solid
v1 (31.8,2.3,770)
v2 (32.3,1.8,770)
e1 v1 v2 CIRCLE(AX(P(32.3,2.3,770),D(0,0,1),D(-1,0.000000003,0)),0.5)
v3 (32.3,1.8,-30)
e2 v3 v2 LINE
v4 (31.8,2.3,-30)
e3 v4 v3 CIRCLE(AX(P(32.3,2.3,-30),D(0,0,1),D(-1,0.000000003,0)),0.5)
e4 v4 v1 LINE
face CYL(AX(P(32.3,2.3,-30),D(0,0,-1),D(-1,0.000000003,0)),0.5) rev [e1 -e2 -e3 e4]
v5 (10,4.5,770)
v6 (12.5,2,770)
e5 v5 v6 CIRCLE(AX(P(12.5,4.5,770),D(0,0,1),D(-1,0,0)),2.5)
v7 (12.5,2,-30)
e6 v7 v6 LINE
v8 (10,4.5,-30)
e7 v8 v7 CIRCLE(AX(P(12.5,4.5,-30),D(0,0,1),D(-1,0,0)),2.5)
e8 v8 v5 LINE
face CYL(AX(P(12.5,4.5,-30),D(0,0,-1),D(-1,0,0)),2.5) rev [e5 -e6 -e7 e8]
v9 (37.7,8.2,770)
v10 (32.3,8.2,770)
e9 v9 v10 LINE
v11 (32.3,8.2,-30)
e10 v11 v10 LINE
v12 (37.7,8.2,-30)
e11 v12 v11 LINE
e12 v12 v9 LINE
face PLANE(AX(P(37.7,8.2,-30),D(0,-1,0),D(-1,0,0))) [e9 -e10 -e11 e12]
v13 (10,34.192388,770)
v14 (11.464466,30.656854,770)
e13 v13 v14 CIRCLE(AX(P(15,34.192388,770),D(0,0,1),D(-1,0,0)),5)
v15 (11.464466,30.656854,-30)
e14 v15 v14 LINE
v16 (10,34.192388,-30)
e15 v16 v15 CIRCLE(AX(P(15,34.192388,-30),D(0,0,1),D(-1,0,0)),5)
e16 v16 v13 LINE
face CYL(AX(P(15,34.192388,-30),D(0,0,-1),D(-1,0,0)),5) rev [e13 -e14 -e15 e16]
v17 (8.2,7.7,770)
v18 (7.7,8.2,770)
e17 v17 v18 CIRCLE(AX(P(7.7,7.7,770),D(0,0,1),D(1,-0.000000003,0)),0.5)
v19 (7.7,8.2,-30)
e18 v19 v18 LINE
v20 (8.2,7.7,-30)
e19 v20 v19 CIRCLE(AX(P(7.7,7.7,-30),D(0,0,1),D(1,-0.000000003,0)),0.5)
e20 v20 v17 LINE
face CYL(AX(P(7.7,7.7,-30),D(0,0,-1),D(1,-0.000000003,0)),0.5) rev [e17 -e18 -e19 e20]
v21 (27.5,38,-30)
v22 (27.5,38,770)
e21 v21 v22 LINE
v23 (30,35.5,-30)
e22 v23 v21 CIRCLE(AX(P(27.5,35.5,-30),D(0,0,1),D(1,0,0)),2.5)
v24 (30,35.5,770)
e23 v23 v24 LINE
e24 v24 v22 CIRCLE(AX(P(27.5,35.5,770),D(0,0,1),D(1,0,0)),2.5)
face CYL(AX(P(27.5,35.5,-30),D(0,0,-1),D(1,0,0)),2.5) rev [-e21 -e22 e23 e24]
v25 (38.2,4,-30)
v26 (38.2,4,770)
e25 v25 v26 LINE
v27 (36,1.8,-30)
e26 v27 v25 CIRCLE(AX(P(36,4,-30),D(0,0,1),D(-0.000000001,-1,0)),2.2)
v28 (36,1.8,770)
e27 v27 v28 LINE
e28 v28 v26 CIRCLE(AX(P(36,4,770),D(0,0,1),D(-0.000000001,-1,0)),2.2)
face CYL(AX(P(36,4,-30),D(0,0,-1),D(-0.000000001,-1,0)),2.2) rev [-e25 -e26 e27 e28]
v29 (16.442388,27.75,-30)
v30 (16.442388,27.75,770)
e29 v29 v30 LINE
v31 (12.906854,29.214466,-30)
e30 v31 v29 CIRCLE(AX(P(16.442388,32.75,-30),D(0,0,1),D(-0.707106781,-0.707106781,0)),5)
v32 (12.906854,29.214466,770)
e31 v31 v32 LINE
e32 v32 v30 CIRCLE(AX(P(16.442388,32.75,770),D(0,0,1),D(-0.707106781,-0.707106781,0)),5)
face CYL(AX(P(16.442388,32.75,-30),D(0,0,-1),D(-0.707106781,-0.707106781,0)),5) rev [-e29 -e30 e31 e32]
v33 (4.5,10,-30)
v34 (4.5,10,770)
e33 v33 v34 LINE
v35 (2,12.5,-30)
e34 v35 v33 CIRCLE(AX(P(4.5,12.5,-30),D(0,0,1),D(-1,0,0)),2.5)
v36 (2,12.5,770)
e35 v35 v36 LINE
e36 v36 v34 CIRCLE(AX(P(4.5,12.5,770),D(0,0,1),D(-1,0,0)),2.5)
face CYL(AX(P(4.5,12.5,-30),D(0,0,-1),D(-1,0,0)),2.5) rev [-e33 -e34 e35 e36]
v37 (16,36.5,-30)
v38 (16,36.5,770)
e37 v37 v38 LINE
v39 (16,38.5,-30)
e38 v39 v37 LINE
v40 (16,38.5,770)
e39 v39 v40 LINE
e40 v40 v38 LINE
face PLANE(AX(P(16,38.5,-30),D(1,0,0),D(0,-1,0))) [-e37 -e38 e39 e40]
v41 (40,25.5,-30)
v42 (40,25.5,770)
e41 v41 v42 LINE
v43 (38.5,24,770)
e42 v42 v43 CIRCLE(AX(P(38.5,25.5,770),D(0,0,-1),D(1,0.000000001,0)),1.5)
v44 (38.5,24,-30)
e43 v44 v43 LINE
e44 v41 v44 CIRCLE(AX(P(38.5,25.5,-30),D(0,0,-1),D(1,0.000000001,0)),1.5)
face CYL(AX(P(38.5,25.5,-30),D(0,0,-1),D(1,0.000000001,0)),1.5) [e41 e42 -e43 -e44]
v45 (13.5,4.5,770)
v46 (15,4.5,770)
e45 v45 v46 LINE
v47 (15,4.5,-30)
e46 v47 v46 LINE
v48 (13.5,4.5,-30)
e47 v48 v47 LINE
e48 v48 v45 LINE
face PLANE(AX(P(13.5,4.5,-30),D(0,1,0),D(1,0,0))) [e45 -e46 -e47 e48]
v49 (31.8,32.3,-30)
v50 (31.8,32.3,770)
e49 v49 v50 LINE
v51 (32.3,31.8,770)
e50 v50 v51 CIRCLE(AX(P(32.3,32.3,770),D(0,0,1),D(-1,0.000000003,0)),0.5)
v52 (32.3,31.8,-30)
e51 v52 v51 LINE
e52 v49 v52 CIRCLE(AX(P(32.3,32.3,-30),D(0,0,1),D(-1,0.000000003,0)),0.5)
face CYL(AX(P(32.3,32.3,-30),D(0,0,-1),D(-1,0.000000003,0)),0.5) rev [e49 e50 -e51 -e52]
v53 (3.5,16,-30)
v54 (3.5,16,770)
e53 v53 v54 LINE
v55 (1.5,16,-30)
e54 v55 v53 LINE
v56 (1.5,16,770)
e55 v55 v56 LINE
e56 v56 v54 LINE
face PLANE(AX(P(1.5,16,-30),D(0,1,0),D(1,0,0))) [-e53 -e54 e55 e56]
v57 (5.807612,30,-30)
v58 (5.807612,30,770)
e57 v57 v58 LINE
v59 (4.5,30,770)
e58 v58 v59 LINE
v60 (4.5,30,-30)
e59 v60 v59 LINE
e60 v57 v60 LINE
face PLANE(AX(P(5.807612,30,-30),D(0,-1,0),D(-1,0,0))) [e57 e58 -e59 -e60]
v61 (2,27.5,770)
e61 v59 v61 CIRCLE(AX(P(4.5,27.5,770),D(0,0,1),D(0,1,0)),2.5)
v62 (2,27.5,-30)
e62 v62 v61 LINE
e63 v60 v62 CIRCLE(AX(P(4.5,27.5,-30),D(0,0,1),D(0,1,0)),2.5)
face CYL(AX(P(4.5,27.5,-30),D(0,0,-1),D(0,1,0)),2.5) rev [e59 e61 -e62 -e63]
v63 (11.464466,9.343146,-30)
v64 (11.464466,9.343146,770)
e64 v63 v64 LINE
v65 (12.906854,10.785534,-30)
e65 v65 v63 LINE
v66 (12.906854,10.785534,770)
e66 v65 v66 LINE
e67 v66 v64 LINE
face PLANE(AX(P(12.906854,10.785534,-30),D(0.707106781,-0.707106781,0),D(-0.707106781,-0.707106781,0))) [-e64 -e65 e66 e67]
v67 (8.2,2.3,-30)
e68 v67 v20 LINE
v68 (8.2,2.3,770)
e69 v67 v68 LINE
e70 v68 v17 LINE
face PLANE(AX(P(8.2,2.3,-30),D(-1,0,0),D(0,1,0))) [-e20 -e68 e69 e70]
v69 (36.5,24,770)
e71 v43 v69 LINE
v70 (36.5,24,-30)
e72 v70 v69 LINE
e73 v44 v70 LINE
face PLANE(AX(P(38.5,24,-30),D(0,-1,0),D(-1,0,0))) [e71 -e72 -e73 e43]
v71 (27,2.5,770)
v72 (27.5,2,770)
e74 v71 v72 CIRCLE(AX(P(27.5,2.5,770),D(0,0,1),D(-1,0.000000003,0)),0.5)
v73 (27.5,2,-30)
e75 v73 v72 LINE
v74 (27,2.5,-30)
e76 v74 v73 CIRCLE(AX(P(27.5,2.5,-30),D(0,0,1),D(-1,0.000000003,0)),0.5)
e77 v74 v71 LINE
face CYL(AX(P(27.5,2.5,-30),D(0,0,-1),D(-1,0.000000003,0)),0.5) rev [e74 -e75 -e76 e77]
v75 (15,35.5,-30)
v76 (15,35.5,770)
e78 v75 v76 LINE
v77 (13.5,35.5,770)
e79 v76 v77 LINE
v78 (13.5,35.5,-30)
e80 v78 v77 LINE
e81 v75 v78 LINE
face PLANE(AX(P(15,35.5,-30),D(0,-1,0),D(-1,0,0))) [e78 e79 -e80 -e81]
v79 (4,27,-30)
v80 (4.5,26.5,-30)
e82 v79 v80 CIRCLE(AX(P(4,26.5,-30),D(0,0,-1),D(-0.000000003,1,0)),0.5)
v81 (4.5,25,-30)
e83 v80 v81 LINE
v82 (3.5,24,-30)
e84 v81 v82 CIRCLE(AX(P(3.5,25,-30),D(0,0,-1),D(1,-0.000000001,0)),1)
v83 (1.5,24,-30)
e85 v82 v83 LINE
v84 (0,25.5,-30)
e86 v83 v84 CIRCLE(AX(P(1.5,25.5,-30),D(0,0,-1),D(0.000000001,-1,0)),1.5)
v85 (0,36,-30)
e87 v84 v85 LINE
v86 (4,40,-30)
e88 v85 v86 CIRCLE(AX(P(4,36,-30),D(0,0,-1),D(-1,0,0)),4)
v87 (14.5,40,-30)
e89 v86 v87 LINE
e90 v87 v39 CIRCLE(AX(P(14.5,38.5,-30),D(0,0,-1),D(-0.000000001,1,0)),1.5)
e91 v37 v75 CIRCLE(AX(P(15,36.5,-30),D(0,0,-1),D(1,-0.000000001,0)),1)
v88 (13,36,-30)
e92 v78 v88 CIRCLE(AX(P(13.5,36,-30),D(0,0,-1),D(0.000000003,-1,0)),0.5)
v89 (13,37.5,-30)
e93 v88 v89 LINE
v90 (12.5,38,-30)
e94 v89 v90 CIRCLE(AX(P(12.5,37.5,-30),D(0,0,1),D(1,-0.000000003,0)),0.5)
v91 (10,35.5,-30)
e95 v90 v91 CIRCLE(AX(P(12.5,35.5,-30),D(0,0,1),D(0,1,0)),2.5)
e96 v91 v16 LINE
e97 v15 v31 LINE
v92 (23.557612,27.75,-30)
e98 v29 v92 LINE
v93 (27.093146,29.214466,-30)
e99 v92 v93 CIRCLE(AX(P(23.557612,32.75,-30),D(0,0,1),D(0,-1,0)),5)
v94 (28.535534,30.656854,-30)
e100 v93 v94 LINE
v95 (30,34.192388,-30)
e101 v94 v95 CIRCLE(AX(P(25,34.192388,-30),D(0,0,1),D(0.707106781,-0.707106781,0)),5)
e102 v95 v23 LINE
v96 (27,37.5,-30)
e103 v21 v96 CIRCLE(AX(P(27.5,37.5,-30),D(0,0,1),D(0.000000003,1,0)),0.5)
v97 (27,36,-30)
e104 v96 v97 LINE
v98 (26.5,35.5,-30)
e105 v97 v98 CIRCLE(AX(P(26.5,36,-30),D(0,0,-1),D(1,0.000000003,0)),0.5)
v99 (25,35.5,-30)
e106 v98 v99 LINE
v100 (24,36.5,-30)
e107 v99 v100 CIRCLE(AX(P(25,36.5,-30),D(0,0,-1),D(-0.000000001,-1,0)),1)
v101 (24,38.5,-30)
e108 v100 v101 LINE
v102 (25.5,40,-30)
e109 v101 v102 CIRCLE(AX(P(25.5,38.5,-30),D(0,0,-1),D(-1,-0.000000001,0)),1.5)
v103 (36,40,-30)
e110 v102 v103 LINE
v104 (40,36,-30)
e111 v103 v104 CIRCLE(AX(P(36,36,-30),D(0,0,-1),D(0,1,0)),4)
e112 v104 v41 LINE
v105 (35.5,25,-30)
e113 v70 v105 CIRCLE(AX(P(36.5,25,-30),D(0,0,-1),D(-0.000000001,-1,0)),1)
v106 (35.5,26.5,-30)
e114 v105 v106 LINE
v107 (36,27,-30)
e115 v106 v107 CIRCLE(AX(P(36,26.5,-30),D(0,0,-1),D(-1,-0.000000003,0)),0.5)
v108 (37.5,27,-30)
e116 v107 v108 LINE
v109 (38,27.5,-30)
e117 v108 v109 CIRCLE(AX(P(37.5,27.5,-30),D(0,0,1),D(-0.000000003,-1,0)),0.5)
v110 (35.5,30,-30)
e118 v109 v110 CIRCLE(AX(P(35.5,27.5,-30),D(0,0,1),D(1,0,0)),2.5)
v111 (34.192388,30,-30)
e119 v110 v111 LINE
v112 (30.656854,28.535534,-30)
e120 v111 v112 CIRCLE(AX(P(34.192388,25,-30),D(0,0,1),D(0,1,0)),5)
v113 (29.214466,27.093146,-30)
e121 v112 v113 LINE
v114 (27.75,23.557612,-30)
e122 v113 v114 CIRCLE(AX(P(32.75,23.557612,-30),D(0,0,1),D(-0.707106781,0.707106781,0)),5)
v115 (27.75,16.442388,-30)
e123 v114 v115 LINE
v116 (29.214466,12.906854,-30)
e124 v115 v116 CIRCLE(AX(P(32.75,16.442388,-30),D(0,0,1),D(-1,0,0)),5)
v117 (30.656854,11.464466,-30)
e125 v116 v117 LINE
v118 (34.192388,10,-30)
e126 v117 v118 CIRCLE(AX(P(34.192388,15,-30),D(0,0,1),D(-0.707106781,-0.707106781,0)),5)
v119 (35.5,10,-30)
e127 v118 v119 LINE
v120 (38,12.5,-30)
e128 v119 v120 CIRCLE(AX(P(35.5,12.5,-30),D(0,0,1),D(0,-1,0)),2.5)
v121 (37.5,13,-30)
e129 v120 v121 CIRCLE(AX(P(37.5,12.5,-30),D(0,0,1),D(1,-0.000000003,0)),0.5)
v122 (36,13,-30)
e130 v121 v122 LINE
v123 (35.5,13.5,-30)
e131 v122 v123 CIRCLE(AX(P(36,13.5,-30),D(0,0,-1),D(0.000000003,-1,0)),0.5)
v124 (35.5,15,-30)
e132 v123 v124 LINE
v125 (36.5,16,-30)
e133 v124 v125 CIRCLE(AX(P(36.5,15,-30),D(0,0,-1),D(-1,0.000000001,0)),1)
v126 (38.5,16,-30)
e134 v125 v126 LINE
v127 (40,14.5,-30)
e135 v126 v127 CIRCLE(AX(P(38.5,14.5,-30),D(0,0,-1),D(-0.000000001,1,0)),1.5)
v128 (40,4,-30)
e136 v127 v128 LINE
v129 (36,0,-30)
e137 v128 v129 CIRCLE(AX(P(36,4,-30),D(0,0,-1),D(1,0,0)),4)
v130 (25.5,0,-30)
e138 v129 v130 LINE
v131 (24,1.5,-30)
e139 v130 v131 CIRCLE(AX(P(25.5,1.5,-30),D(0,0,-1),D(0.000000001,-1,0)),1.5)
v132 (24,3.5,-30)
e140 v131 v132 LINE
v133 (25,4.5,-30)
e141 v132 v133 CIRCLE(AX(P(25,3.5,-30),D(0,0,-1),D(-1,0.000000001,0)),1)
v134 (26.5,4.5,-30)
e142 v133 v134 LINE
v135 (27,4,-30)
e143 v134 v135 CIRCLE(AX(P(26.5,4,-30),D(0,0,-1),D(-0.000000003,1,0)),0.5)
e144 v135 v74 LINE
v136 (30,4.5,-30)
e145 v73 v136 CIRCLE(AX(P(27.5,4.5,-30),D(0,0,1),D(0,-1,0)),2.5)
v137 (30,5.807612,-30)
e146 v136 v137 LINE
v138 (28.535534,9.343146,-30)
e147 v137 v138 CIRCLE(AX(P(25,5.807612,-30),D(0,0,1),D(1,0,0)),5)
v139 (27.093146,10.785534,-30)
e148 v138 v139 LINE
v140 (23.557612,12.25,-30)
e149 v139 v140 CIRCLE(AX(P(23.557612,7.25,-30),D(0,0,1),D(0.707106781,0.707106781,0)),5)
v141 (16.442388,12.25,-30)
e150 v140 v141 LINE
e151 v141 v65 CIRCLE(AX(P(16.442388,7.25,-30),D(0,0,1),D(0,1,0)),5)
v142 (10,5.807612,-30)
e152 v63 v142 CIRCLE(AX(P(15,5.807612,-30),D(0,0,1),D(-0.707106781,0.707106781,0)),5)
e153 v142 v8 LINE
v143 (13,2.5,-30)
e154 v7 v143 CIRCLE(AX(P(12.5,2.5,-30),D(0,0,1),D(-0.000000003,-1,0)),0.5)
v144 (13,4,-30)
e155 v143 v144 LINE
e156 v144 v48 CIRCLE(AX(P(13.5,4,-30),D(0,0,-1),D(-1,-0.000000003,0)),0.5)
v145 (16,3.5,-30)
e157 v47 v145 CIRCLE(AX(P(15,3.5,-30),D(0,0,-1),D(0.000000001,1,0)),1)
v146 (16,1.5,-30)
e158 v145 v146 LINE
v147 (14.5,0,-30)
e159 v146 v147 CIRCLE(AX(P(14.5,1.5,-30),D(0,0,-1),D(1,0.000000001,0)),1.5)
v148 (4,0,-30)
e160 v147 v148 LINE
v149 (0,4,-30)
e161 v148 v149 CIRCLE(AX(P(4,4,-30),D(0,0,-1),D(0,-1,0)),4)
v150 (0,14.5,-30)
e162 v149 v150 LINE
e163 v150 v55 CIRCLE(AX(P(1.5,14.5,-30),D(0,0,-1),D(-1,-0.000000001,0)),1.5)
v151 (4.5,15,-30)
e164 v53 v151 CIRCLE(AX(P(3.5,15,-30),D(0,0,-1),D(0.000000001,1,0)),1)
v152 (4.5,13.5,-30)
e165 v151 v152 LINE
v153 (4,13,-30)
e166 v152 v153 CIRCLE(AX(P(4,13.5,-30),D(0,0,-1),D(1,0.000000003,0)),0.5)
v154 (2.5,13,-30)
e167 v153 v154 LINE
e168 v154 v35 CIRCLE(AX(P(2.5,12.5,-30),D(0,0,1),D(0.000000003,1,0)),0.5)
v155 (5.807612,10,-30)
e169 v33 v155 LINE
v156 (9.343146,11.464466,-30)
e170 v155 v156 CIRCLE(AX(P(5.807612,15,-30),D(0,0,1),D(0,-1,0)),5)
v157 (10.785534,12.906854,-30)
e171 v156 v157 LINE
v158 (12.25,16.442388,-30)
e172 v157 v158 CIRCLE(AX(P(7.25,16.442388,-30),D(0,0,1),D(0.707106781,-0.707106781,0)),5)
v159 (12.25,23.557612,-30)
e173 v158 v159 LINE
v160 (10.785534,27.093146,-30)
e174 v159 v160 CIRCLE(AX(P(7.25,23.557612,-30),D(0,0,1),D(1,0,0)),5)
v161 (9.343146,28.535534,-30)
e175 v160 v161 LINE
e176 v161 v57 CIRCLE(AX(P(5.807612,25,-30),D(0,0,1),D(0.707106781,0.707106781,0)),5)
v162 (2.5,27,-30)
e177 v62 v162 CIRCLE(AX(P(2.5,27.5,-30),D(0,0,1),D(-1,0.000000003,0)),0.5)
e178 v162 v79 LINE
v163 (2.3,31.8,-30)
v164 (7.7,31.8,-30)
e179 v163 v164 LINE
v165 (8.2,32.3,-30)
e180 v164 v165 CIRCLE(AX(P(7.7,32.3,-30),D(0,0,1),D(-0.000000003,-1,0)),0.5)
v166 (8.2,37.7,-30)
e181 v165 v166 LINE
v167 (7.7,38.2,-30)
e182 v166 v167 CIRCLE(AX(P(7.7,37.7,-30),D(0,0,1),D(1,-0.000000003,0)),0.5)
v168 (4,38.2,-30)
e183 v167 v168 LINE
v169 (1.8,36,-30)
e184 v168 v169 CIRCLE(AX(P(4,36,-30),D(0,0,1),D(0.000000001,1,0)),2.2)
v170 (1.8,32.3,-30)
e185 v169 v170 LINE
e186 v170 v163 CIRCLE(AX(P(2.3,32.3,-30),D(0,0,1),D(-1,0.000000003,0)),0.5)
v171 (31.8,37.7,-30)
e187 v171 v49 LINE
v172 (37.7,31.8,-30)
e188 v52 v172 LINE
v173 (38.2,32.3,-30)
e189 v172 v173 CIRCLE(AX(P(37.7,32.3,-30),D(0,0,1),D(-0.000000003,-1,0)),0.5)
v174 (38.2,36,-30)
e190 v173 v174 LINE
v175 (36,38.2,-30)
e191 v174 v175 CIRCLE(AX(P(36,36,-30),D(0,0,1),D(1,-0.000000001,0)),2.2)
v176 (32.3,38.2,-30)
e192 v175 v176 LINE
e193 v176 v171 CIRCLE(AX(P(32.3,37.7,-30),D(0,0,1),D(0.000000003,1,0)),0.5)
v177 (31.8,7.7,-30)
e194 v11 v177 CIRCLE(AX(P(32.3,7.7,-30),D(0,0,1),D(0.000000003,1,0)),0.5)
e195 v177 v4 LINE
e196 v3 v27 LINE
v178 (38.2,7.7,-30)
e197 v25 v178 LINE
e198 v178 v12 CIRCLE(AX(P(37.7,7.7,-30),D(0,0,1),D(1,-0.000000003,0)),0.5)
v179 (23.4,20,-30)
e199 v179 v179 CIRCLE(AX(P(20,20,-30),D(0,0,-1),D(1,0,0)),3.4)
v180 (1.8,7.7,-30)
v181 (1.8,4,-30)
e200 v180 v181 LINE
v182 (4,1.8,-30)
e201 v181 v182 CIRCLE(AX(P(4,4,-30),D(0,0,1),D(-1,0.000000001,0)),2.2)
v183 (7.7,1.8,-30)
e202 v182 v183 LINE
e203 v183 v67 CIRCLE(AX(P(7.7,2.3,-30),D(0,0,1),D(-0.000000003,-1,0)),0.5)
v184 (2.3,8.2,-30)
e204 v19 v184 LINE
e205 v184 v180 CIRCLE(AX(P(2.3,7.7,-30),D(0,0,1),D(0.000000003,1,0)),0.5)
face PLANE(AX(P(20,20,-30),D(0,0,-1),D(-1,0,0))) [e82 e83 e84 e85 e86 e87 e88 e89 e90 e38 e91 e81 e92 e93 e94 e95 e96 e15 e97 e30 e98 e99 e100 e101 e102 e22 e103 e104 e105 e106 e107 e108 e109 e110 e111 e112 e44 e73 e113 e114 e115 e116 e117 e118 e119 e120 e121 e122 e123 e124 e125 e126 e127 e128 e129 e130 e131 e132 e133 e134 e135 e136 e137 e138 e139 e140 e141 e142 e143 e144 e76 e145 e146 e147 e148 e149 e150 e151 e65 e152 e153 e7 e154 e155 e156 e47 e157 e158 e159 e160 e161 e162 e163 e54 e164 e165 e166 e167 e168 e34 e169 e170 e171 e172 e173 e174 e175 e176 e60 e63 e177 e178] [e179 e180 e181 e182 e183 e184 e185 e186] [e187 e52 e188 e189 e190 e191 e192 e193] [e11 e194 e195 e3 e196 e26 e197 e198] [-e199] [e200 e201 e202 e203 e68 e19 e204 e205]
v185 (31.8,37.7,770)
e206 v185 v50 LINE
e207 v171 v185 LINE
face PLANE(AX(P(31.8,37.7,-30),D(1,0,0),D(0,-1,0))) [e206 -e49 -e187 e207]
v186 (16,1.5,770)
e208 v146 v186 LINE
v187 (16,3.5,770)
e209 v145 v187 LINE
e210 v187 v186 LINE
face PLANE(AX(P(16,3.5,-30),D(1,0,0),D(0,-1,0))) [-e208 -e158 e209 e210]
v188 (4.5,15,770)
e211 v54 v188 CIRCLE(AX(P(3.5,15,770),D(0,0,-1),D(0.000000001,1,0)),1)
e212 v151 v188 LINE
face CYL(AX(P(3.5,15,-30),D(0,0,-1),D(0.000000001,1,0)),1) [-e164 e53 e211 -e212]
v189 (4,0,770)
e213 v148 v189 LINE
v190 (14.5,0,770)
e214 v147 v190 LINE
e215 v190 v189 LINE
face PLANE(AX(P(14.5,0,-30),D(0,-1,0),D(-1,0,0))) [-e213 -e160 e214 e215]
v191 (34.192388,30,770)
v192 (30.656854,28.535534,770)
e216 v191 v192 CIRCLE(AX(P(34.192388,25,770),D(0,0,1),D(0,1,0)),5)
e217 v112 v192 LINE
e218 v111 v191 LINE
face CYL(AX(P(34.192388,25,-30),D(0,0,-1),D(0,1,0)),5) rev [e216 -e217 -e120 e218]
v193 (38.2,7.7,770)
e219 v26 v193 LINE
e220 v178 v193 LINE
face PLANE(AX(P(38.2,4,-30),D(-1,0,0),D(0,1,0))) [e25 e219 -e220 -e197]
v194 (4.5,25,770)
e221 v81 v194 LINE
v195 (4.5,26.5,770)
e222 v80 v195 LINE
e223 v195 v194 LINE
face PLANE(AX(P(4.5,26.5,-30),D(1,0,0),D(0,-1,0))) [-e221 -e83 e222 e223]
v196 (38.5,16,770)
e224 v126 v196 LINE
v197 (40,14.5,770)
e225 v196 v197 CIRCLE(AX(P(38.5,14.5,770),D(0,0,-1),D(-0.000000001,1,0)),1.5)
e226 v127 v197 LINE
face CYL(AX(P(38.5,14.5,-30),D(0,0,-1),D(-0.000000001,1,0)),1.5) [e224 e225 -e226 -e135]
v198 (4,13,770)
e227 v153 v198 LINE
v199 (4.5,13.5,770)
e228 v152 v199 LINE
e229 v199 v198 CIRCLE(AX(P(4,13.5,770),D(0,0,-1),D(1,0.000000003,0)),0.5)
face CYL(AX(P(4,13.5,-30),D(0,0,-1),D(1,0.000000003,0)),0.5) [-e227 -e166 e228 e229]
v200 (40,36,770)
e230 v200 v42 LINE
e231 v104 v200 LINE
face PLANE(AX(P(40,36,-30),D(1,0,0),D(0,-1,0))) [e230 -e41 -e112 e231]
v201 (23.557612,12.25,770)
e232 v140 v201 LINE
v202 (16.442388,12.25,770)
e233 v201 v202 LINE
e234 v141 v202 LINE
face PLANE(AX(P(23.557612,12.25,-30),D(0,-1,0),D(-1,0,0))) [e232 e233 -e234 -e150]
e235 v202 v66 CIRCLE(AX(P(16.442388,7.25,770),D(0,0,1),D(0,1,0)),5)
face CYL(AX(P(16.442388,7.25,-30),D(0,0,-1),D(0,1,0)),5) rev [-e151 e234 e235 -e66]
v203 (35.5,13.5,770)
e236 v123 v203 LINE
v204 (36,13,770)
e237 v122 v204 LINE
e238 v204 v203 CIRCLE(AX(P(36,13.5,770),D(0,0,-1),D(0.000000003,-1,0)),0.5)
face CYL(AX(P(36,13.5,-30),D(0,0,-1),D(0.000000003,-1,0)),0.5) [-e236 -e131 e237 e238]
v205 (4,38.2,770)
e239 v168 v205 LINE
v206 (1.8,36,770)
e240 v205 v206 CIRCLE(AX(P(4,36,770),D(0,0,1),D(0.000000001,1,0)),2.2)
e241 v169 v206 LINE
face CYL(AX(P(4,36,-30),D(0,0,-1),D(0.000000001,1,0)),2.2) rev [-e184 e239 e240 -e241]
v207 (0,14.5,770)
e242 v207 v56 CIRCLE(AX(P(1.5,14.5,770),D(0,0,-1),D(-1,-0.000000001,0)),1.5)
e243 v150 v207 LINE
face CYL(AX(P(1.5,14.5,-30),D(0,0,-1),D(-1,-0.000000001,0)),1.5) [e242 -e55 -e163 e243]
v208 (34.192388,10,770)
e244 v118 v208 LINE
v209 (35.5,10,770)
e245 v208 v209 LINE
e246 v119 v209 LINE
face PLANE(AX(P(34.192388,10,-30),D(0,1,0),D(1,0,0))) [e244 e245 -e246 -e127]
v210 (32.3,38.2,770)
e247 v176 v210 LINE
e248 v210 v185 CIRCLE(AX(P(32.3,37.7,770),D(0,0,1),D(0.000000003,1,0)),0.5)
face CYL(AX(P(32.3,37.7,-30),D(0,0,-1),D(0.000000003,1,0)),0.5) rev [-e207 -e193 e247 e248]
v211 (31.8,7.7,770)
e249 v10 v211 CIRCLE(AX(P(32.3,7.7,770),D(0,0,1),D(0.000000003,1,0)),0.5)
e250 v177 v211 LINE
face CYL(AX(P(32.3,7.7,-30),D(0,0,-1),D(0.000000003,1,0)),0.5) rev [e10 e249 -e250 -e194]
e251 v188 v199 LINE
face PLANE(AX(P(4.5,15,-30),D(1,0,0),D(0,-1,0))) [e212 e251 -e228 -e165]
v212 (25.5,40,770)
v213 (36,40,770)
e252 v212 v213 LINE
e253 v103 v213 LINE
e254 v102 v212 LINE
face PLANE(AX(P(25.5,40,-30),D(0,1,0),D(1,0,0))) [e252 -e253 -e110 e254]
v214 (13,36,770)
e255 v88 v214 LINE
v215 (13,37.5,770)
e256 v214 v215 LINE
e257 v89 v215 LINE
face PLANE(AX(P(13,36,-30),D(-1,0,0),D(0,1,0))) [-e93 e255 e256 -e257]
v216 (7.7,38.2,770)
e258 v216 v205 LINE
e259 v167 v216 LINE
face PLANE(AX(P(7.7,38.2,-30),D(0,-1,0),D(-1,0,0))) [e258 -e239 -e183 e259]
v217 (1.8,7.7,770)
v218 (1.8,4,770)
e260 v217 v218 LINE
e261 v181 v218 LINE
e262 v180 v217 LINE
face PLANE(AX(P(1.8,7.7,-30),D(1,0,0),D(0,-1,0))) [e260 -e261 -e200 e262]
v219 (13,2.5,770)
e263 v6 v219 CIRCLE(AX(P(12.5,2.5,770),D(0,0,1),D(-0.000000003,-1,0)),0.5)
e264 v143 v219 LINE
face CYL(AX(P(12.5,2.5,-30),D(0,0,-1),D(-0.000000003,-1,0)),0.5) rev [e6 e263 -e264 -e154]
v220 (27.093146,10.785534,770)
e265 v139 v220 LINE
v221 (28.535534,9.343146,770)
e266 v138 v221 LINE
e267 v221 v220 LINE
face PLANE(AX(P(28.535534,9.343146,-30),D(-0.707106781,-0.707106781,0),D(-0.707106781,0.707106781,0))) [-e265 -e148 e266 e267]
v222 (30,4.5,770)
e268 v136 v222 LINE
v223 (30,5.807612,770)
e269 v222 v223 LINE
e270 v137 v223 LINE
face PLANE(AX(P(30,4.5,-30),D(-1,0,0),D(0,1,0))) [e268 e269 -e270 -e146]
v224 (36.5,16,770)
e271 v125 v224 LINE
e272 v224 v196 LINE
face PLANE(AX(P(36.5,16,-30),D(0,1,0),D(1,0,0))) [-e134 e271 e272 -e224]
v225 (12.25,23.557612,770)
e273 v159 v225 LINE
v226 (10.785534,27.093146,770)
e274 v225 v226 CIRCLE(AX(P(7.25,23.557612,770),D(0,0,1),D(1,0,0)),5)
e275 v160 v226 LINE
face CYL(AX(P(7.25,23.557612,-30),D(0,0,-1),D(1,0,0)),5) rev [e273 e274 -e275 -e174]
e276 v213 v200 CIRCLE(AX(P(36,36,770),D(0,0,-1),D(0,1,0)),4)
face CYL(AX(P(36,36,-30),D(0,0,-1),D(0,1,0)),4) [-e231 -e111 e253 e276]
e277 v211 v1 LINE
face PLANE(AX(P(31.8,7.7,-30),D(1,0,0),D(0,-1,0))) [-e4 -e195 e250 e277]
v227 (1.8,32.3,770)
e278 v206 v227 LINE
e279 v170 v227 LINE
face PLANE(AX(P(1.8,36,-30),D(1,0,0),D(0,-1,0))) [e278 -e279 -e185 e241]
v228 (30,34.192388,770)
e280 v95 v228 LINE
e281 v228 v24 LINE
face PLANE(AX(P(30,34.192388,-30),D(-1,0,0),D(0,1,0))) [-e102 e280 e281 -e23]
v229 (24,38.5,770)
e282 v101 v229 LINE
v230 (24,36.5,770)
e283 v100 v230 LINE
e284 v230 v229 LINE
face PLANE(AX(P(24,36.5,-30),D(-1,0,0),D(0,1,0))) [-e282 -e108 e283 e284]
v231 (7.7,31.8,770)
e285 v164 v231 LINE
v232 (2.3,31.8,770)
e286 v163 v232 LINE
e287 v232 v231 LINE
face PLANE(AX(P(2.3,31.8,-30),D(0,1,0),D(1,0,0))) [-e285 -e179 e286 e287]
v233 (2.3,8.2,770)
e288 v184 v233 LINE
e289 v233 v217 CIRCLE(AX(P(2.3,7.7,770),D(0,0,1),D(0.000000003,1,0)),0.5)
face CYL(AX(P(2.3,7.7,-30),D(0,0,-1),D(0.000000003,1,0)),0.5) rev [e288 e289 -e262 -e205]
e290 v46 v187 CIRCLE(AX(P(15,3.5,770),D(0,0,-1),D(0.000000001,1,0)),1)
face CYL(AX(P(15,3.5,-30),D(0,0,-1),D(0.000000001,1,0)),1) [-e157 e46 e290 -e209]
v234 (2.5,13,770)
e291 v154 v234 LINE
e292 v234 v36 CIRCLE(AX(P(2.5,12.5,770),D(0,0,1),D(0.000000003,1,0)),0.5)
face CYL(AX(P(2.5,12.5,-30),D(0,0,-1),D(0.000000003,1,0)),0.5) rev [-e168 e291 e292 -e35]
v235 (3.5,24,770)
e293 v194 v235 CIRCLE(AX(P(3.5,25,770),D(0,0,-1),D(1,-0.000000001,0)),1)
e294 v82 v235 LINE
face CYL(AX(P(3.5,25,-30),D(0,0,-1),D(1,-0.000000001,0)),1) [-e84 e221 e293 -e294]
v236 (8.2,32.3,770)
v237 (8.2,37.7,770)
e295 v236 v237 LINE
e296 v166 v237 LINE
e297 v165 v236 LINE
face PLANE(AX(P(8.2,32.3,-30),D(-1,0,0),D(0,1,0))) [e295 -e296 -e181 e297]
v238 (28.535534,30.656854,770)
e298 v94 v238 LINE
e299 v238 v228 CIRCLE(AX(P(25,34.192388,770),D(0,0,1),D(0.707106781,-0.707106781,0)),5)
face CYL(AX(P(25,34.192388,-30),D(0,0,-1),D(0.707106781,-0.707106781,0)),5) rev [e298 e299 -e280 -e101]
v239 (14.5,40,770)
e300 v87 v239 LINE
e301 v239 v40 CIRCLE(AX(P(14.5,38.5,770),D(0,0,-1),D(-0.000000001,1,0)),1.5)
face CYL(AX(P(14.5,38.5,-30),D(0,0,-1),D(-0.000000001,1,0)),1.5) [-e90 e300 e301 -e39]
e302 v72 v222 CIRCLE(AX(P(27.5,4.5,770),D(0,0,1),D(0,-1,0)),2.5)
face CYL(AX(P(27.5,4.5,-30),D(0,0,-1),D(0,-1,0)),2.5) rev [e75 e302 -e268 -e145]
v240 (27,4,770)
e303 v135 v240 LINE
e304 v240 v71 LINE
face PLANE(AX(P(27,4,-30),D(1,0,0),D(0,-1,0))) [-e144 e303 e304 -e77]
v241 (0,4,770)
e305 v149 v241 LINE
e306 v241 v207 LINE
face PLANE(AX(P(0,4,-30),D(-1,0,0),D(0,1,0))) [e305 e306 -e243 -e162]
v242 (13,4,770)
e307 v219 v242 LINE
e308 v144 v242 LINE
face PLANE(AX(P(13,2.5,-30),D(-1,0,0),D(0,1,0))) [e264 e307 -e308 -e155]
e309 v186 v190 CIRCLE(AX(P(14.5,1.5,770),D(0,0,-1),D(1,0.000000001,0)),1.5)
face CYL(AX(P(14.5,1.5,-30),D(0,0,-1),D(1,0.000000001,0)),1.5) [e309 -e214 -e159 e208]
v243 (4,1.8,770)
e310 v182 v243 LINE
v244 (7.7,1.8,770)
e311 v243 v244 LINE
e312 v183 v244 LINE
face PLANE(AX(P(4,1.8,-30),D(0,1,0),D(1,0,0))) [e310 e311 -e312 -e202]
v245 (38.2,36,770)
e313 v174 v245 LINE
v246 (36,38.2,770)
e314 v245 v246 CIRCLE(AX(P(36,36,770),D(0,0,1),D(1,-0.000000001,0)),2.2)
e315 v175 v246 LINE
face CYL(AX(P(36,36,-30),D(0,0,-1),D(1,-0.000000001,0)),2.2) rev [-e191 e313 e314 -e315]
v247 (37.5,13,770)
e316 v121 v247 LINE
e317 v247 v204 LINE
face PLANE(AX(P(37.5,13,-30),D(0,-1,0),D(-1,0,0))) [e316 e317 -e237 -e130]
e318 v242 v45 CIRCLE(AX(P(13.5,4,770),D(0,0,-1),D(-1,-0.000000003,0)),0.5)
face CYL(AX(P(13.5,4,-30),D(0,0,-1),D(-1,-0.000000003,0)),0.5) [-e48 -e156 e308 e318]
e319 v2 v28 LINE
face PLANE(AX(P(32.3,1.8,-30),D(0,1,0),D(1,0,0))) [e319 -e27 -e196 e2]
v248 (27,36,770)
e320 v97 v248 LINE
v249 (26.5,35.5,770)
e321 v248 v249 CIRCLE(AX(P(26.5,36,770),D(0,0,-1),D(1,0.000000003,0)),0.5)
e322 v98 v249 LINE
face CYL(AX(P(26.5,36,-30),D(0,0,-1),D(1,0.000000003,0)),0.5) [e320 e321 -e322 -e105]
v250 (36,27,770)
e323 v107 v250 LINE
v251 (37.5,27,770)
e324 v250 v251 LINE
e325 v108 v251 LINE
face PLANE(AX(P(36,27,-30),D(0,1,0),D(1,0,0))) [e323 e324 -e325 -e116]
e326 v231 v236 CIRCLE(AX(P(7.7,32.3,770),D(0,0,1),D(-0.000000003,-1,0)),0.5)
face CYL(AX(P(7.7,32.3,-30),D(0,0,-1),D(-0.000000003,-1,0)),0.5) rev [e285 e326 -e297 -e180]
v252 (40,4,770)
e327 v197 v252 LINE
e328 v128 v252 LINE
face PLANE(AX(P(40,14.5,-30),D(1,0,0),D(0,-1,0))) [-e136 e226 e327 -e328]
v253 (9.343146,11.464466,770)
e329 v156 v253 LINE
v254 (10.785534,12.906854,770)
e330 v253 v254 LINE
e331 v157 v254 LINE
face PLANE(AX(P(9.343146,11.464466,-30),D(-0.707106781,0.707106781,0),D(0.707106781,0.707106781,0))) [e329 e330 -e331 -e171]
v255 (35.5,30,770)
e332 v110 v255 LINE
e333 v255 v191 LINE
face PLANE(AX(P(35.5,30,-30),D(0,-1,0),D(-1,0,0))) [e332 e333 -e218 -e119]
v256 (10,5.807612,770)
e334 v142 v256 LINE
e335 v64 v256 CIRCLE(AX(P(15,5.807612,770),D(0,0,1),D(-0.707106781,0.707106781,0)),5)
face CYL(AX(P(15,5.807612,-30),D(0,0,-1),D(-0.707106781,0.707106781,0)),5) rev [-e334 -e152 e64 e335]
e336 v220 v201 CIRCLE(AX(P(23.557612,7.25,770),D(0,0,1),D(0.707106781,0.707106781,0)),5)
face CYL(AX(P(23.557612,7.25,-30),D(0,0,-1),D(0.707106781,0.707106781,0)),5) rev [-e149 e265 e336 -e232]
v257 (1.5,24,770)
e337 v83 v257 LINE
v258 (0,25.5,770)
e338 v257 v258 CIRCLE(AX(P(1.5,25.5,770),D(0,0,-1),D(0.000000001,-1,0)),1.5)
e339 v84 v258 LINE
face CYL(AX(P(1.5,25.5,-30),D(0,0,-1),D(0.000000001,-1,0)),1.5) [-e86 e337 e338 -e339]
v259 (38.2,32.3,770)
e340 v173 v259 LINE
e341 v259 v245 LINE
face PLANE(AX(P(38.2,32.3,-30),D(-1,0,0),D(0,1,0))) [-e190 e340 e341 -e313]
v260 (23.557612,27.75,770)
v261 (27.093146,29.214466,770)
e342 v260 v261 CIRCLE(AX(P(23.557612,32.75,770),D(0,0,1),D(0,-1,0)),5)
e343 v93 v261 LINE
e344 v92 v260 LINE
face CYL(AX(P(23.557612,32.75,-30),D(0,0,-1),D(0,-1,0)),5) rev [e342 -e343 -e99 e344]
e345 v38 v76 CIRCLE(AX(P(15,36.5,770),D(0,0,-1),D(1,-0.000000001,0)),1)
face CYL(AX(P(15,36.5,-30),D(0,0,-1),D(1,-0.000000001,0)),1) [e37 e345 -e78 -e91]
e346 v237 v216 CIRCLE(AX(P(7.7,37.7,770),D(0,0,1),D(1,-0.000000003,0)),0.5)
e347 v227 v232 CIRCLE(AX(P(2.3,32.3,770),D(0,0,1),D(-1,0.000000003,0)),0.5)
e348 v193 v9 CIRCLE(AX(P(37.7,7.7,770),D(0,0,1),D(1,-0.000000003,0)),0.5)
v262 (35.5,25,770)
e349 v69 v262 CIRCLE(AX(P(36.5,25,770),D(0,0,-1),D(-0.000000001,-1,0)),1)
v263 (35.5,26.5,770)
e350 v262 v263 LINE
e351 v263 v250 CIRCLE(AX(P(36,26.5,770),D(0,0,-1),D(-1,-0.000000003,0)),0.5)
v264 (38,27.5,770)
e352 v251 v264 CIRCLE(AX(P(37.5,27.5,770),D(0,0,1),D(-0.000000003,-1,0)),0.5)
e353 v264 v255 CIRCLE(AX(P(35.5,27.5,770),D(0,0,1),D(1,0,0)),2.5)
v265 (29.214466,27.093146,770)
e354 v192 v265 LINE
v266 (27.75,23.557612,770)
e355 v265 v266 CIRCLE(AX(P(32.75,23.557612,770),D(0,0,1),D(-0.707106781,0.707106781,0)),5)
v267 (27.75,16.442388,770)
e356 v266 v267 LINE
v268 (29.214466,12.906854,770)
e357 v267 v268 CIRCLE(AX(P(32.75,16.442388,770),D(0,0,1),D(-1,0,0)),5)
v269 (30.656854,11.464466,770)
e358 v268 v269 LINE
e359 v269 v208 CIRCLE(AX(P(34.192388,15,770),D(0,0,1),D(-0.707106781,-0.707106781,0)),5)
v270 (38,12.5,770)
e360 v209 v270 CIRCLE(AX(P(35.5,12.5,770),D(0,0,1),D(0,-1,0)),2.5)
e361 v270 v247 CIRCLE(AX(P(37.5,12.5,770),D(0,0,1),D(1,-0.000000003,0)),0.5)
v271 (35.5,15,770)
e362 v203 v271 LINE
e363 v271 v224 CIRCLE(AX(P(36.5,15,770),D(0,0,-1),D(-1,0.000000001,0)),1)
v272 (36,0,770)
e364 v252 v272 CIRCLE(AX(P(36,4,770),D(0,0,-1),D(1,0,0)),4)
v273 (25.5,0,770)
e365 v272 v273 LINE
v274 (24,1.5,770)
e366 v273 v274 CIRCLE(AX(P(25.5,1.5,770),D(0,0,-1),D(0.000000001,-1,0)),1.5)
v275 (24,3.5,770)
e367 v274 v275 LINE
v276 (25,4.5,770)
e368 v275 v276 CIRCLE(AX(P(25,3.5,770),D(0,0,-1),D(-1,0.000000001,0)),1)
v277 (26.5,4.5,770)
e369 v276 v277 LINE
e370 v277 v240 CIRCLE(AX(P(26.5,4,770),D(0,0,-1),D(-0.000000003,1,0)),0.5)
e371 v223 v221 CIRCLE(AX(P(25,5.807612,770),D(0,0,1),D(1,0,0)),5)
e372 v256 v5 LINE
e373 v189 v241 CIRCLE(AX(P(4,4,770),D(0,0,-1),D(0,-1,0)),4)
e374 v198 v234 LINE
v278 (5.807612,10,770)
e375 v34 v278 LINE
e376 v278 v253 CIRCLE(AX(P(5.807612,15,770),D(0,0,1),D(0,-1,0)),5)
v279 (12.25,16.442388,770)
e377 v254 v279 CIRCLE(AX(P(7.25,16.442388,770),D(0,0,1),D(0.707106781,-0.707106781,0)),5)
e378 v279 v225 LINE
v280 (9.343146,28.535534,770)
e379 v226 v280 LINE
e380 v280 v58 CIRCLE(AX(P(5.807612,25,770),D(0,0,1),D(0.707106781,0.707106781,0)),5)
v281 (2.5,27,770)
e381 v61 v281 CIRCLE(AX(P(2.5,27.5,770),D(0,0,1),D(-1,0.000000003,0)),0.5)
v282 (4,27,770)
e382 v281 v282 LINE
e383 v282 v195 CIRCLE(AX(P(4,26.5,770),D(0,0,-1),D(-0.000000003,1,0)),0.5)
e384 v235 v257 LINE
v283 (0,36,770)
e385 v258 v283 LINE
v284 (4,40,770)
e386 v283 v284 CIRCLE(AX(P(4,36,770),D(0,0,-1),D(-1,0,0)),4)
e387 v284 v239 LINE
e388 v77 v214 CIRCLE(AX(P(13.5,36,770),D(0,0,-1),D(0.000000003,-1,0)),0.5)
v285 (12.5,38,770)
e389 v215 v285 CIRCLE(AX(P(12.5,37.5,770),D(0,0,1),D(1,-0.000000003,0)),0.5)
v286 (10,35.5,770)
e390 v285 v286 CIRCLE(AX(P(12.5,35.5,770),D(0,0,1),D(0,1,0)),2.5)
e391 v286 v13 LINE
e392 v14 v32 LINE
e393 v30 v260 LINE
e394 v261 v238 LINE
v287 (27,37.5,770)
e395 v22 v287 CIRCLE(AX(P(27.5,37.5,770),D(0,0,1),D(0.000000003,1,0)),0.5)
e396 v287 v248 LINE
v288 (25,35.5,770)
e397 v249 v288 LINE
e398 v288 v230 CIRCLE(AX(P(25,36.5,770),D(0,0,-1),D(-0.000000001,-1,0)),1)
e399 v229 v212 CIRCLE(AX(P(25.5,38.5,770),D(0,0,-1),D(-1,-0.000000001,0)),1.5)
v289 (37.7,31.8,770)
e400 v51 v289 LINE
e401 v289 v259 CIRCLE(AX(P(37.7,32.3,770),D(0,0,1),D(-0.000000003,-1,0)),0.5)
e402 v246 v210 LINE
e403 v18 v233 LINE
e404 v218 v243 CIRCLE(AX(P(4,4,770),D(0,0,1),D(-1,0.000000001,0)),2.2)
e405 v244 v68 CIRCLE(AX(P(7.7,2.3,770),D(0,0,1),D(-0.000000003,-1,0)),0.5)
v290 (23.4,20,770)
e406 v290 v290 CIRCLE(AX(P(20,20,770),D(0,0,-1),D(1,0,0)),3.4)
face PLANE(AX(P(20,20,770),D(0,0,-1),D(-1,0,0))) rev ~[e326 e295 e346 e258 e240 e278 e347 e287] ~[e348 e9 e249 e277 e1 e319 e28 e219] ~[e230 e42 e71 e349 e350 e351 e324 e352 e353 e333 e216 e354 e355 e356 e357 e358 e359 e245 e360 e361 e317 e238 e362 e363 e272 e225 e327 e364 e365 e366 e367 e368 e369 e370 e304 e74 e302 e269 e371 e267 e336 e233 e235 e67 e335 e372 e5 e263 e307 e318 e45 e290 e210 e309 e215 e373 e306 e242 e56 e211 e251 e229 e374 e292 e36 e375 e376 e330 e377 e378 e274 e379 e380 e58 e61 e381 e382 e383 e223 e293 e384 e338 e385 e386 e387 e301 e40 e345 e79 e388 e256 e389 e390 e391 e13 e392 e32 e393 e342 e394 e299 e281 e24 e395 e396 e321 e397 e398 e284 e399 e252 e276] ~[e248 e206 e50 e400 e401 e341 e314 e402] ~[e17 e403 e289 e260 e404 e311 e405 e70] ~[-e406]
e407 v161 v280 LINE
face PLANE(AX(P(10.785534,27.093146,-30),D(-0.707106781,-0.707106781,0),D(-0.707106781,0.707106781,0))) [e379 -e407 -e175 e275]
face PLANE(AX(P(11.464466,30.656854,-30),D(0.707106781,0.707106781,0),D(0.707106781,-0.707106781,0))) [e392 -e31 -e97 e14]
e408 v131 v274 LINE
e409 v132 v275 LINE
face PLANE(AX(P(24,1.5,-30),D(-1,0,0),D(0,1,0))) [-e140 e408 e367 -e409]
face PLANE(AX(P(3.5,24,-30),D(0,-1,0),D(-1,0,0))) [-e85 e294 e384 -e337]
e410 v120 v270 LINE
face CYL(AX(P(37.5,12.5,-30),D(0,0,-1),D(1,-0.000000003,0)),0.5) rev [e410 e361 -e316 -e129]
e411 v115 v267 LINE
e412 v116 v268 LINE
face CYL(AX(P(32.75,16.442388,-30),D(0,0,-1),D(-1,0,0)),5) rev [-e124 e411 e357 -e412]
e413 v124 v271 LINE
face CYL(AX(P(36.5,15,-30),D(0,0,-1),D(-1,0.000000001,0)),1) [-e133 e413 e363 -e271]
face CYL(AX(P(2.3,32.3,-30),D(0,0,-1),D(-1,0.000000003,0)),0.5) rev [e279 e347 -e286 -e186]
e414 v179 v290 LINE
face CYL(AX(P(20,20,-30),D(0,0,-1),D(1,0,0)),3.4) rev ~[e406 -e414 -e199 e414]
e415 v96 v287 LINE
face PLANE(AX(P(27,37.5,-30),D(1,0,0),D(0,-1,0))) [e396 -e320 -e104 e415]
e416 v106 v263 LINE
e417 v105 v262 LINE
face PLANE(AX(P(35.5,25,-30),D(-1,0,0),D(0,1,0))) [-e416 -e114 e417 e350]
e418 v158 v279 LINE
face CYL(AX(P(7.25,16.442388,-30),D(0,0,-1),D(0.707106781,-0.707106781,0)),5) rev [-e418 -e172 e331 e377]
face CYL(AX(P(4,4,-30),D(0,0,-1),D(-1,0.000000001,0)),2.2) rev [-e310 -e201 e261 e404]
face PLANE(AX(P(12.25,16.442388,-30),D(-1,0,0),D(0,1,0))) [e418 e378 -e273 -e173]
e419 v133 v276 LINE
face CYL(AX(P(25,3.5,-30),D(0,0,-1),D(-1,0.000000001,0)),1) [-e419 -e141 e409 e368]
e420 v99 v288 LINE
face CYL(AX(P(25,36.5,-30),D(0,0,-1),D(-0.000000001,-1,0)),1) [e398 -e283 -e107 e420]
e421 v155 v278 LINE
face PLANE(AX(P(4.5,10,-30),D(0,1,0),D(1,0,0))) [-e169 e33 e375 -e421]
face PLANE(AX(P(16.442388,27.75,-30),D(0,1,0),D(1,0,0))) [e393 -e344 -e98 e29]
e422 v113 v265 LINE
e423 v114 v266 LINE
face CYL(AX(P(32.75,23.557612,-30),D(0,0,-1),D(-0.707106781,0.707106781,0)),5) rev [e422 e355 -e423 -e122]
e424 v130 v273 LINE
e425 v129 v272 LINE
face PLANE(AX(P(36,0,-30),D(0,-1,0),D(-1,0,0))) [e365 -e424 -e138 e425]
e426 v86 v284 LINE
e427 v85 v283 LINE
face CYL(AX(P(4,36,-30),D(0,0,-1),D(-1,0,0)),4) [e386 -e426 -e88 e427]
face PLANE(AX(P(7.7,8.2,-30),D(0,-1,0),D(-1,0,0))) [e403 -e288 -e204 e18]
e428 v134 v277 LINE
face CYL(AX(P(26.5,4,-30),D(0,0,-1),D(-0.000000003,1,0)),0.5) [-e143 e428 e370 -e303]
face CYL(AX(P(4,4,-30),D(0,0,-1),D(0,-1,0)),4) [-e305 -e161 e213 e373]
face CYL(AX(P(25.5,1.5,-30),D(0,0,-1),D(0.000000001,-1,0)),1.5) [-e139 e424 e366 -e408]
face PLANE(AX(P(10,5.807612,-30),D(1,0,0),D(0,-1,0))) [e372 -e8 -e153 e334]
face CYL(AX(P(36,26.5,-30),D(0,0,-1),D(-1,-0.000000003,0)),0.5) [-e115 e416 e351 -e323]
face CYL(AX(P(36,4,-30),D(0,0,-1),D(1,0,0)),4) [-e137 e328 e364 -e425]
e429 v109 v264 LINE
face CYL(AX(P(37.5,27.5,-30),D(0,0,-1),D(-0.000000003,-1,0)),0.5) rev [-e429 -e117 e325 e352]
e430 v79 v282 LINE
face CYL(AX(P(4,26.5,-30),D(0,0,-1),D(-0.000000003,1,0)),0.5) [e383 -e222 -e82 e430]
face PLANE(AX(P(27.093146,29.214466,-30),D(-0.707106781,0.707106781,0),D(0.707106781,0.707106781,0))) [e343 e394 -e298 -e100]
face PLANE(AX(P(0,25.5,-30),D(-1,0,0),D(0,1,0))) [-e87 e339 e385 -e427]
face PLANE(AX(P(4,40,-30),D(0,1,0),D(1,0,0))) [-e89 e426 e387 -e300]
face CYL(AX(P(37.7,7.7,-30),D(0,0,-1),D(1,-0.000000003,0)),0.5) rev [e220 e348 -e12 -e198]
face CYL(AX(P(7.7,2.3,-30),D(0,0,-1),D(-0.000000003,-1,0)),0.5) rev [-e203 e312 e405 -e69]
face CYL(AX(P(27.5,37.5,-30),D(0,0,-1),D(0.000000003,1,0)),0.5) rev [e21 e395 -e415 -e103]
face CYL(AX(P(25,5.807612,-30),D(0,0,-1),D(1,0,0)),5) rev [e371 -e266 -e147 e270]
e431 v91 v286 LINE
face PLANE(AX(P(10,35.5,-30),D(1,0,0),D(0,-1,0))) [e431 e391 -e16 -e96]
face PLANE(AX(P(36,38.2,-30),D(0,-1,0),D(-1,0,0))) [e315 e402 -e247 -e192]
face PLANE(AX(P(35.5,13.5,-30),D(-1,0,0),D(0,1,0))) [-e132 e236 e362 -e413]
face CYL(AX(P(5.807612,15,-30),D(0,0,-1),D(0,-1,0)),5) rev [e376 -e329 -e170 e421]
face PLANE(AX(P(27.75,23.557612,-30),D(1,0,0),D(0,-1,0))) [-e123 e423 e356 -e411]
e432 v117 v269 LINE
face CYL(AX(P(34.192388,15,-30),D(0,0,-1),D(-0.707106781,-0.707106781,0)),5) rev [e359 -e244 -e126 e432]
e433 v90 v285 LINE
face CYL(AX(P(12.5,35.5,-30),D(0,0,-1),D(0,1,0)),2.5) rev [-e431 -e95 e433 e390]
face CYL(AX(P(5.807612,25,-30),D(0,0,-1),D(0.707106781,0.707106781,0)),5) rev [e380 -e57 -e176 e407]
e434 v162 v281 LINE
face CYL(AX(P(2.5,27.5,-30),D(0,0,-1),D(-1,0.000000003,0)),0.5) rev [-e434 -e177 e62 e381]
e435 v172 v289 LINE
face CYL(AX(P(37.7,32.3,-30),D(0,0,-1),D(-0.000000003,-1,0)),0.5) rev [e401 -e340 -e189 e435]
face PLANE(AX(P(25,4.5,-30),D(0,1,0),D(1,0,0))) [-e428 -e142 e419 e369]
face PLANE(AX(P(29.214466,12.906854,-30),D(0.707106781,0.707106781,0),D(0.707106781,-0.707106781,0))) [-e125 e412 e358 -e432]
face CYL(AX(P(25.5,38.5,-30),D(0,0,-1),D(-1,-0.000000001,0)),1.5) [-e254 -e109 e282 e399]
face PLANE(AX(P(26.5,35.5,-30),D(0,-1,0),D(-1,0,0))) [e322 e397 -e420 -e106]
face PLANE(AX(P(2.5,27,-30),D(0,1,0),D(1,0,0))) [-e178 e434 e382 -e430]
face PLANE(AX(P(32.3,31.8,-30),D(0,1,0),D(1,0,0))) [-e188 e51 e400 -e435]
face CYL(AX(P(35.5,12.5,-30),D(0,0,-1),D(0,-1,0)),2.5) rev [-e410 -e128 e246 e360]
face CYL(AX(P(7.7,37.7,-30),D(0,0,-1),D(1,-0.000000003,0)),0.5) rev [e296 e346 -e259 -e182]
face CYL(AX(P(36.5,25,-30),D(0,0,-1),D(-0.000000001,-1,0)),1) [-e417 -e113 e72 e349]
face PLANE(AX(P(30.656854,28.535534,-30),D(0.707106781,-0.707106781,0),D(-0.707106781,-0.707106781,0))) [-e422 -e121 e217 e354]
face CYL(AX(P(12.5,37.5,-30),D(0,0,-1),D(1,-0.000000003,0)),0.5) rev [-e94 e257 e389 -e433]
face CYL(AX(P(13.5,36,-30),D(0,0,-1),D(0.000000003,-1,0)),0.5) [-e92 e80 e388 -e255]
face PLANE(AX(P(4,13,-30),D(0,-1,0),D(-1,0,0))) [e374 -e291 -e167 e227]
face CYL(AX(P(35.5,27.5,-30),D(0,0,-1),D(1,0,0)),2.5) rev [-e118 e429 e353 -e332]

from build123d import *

# Parameters (mm, degrees)
ESQUISSE1_R        = 3.4
BOSS_EXTRU_1_DEPTH = 800


with BuildPart() as part:
    # Esquisse1 → Boss.-Extru.1 (new body)
    with BuildSketch(Plane(origin=(0, 0, -30), x_dir=(-1, 0, 0), z_dir=(0, 0, -1))):
        with BuildLine():
            Line((-4.5, 15), (-4.5, 13.5))
            ThreePointArc((-4.5, 13.5), (-4.353553391, 13.146446609), (-4, 13))
            Line((-4, 13), (-2.5, 13))
            ThreePointArc((-2.5, 13), (-2.146446609, 12.853553391), (-2, 12.5))
            ThreePointArc((-2, 12.5), (-2.732233047, 10.732233047), (-4.5, 10))
            Line((-4.5, 10), (-5.807611845, 10))
            ThreePointArc((-5.807611845, 10), (-7.721029006, 10.380602337), (-9.343145751, 11.464466094))
            Line((-9.343145751, 11.464466094), (-10.785533906, 12.906854249))
            ThreePointArc((-10.785533906, 12.906854249), (-11.869397663, 14.528970994), (-12.25, 16.442388155))
            Line((-12.25, 16.442388155), (-12.25, 23.557611845))
            ThreePointArc((-12.25, 23.557611845), (-11.869397663, 25.471029006), (-10.785533906, 27.093145751))
            Line((-10.785533906, 27.093145751), (-9.343145751, 28.535533906))
            ThreePointArc((-9.343145751, 28.535533906), (-7.721029006, 29.619397663), (-5.807611845, 30))
            Line((-5.807611845, 30), (-4.5, 30))
            ThreePointArc((-4.5, 30), (-2.732233047, 29.267766953), (-2, 27.5))
            ThreePointArc((-2, 27.5), (-2.146446609, 27.146446609), (-2.5, 27))
            Line((-2.5, 27), (-4, 27))
            ThreePointArc((-4, 27), (-4.353553391, 26.853553391), (-4.5, 26.5))
            Line((-4.5, 26.5), (-4.5, 25))
            ThreePointArc((-4.5, 25), (-4.207106781, 24.292893219), (-3.5, 24))
            Line((-3.5, 24), (-1.5, 24))
            ThreePointArc((-1.5, 24), (-0.439339828, 24.439339828), (0, 25.5))
            Line((0, 25.5), (0, 36))
            ThreePointArc((0, 36), (-1.171572875, 38.828427125), (-4, 40))
            Line((-4, 40), (-14.5, 40))
            ThreePointArc((-14.5, 40), (-15.560660172, 39.560660172), (-16, 38.5))
            Line((-16, 38.5), (-16, 36.5))
            ThreePointArc((-16, 36.5), (-15.707106781, 35.792893219), (-15, 35.5))
            Line((-15, 35.5), (-13.5, 35.5))
            ThreePointArc((-13.5, 35.5), (-13.146446609, 35.646446609), (-13, 36))
            Line((-13, 36), (-13, 37.5))
            ThreePointArc((-13, 37.5), (-12.853553391, 37.853553391), (-12.5, 38))
            ThreePointArc((-12.5, 38), (-10.732233047, 37.267766953), (-10, 35.5))
            Line((-10, 35.5), (-10, 34.192388155))
            ThreePointArc((-10, 34.192388155), (-10.380602337, 32.278970994), (-11.464466094, 30.656854249))
            Line((-11.464466094, 30.656854249), (-12.906854249, 29.214466094))
            ThreePointArc((-12.906854249, 29.214466094), (-14.528970994, 28.130602337), (-16.442388155, 27.75))
            Line((-16.442388155, 27.75), (-23.557611845, 27.75))
            ThreePointArc((-23.557611845, 27.75), (-25.471029006, 28.130602337), (-27.093145751, 29.214466094))
            Line((-27.093145751, 29.214466094), (-28.535533906, 30.656854249))
            ThreePointArc((-28.535533906, 30.656854249), (-29.619397663, 32.278970994), (-30, 34.192388155))
            Line((-30, 34.192388155), (-30, 35.5))
            ThreePointArc((-30, 35.5), (-29.267766953, 37.267766953), (-27.5, 38))
            ThreePointArc((-27.5, 38), (-27.146446609, 37.853553391), (-27, 37.5))
            Line((-27, 37.5), (-27, 36))
            ThreePointArc((-27, 36), (-26.853553391, 35.646446609), (-26.5, 35.5))
            Line((-26.5, 35.5), (-25, 35.5))
            ThreePointArc((-25, 35.5), (-24.292893219, 35.792893219), (-24, 36.5))
            Line((-24, 36.5), (-24, 38.5))
            ThreePointArc((-24, 38.5), (-24.439339828, 39.560660172), (-25.5, 40))
            Line((-25.5, 40), (-36, 40))
            ThreePointArc((-36, 40), (-38.828427125, 38.828427125), (-40, 36))
            Line((-40, 36), (-40, 25.5))
            ThreePointArc((-40, 25.5), (-39.560660172, 24.439339828), (-38.5, 24))
            Line((-38.5, 24), (-36.5, 24))
            ThreePointArc((-36.5, 24), (-35.792893219, 24.292893219), (-35.5, 25))
            Line((-35.5, 25), (-35.5, 26.5))
            ThreePointArc((-35.5, 26.5), (-35.646446609, 26.853553391), (-36, 27))
            Line((-36, 27), (-37.5, 27))
            ThreePointArc((-37.5, 27), (-37.853553391, 27.146446609), (-38, 27.5))
            ThreePointArc((-38, 27.5), (-37.267766953, 29.267766953), (-35.5, 30))
            Line((-35.5, 30), (-34.192388155, 30))
            ThreePointArc((-34.192388155, 30), (-32.278970994, 29.619397663), (-30.656854249, 28.535533906))
            Line((-30.656854249, 28.535533906), (-29.214466094, 27.093145751))
            ThreePointArc((-29.214466094, 27.093145751), (-28.130602337, 25.471029006), (-27.75, 23.557611845))
            Line((-27.75, 23.557611845), (-27.75, 16.442388155))
            ThreePointArc((-27.75, 16.442388155), (-28.130602337, 14.528970994), (-29.214466094, 12.906854249))
            Line((-29.214466094, 12.906854249), (-30.656854249, 11.464466094))
            ThreePointArc((-30.656854249, 11.464466094), (-32.278970994, 10.380602337), (-34.192388155, 10))
            Line((-34.192388155, 10), (-35.5, 10))
            ThreePointArc((-35.5, 10), (-37.267766953, 10.732233047), (-38, 12.5))
            ThreePointArc((-38, 12.5), (-37.853553391, 12.853553391), (-37.5, 13))
            Line((-37.5, 13), (-36, 13))
            ThreePointArc((-36, 13), (-35.646446609, 13.146446609), (-35.5, 13.5))
            Line((-35.5, 13.5), (-35.5, 15))
            ThreePointArc((-35.5, 15), (-35.792893219, 15.707106781), (-36.5, 16))
            Line((-36.5, 16), (-38.5, 16))
            ThreePointArc((-38.5, 16), (-39.560660172, 15.560660172), (-40, 14.5))
            Line((-40, 14.5), (-40, 4))
            ThreePointArc((-40, 4), (-38.828427125, 1.171572875), (-36, 0))
            Line((-36, 0), (-25.5, 0))
            ThreePointArc((-25.5, 0), (-24.439339828, 0.439339828), (-24, 1.5))
            Line((-24, 1.5), (-24, 3.5))
            ThreePointArc((-24, 3.5), (-24.292893219, 4.207106781), (-25, 4.5))
            Line((-25, 4.5), (-26.5, 4.5))
            ThreePointArc((-26.5, 4.5), (-26.853553391, 4.353553391), (-27, 4))
            Line((-27, 4), (-27, 2.5))
            ThreePointArc((-27, 2.5), (-27.146446609, 2.146446609), (-27.5, 2))
            ThreePointArc((-27.5, 2), (-29.267766953, 2.732233047), (-30, 4.5))
            Line((-30, 4.5), (-30, 5.807611845))
            ThreePointArc((-30, 5.807611845), (-29.619397663, 7.721029006), (-28.535533906, 9.343145751))
            Line((-28.535533906, 9.343145751), (-27.093145751, 10.785533906))
            ThreePointArc((-27.093145751, 10.785533906), (-25.471029006, 11.869397663), (-23.557611845, 12.25))
            Line((-23.557611845, 12.25), (-16.442388155, 12.25))
            ThreePointArc((-16.442388155, 12.25), (-14.528970994, 11.869397663), (-12.906854249, 10.785533906))
            Line((-12.906854249, 10.785533906), (-11.464466094, 9.343145751))
            ThreePointArc((-11.464466094, 9.343145751), (-10.380602337, 7.721029006), (-10, 5.807611845))
            Line((-10, 5.807611845), (-10, 4.5))
            ThreePointArc((-10, 4.5), (-10.732233047, 2.732233047), (-12.5, 2))
            ThreePointArc((-12.5, 2), (-12.853553391, 2.146446609), (-13, 2.5))
            Line((-13, 2.5), (-13, 4))
            ThreePointArc((-13, 4), (-13.146446609, 4.353553391), (-13.5, 4.5))
            Line((-13.5, 4.5), (-15, 4.5))
            ThreePointArc((-15, 4.5), (-15.707106781, 4.207106781), (-16, 3.5))
            Line((-16, 3.5), (-16, 1.5))
            ThreePointArc((-16, 1.5), (-15.560660172, 0.439339828), (-14.5, 0))
            Line((-14.5, 0), (-4, 0))
            ThreePointArc((-4, 0), (-1.171572875, 1.171572875), (0, 4))
            Line((0, 4), (0, 14.5))
            ThreePointArc((0, 14.5), (-0.439339828, 15.560660172), (-1.5, 16))
            Line((-1.5, 16), (-3.5, 16))
            ThreePointArc((-3.5, 16), (-4.207106781, 15.707106781), (-4.5, 15))
        make_face()
        with Locations(Location((-20, 20, 0), (0, 0, 180))):
            Circle(ESQUISSE1_R, mode=Mode.SUBTRACT)
        with BuildLine():
            Line((-4, 1.8), (-7.7, 1.8))
            ThreePointArc((-7.7, 1.8), (-8.053553391, 1.946446609), (-8.2, 2.3))
            Line((-8.2, 2.3), (-8.2, 7.7))
            ThreePointArc((-8.2, 7.7), (-8.053553391, 8.053553391), (-7.7, 8.2))
            Line((-7.7, 8.2), (-2.3, 8.2))
            ThreePointArc((-2.3, 8.2), (-1.946446609, 8.053553391), (-1.8, 7.7))
            Line((-1.8, 7.7), (-1.8, 4))
            ThreePointArc((-1.8, 4), (-2.444365081, 2.444365081), (-4, 1.8))
        make_face(mode=Mode.SUBTRACT)
        with BuildLine():
            Line((-38.2, 4), (-38.2, 7.7))
            ThreePointArc((-38.2, 7.7), (-38.053553391, 8.053553391), (-37.7, 8.2))
            Line((-37.7, 8.2), (-32.3, 8.2))
            ThreePointArc((-32.3, 8.2), (-31.946446609, 8.053553391), (-31.8, 7.7))
            Line((-31.8, 7.7), (-31.8, 2.3))
            ThreePointArc((-31.8, 2.3), (-31.946446609, 1.946446609), (-32.3, 1.8))
            Line((-32.3, 1.8), (-36, 1.8))
            ThreePointArc((-36, 1.8), (-37.555634919, 2.444365081), (-38.2, 4))
        make_face(mode=Mode.SUBTRACT)
        with BuildLine():
            Line((-36, 38.2), (-32.3, 38.2))
            ThreePointArc((-32.3, 38.2), (-31.946446609, 38.053553391), (-31.8, 37.7))
            Line((-31.8, 37.7), (-31.8, 32.3))
            ThreePointArc((-31.8, 32.3), (-31.946446609, 31.946446609), (-32.3, 31.8))
            Line((-32.3, 31.8), (-37.7, 31.8))
            ThreePointArc((-37.7, 31.8), (-38.053553391, 31.946446609), (-38.2, 32.3))
            Line((-38.2, 32.3), (-38.2, 36))
            ThreePointArc((-38.2, 36), (-37.555634919, 37.555634919), (-36, 38.2))
        make_face(mode=Mode.SUBTRACT)
        with BuildLine():
            Line((-1.8, 36), (-1.8, 32.3))
            ThreePointArc((-1.8, 32.3), (-1.946446609, 31.946446609), (-2.3, 31.8))
            Line((-2.3, 31.8), (-7.7, 31.8))
            ThreePointArc((-7.7, 31.8), (-8.053553391, 31.946446609), (-8.2, 32.3))
            Line((-8.2, 32.3), (-8.2, 37.7))
            ThreePointArc((-8.2, 37.7), (-8.053553391, 38.053553391), (-7.7, 38.2))
            Line((-7.7, 38.2), (-4, 38.2))
            ThreePointArc((-4, 38.2), (-2.444365081, 37.555634919), (-1.8, 36))
        make_face(mode=Mode.SUBTRACT)
    extrude(amount=-BOSS_EXTRU_1_DEPTH)


solid = part.part
